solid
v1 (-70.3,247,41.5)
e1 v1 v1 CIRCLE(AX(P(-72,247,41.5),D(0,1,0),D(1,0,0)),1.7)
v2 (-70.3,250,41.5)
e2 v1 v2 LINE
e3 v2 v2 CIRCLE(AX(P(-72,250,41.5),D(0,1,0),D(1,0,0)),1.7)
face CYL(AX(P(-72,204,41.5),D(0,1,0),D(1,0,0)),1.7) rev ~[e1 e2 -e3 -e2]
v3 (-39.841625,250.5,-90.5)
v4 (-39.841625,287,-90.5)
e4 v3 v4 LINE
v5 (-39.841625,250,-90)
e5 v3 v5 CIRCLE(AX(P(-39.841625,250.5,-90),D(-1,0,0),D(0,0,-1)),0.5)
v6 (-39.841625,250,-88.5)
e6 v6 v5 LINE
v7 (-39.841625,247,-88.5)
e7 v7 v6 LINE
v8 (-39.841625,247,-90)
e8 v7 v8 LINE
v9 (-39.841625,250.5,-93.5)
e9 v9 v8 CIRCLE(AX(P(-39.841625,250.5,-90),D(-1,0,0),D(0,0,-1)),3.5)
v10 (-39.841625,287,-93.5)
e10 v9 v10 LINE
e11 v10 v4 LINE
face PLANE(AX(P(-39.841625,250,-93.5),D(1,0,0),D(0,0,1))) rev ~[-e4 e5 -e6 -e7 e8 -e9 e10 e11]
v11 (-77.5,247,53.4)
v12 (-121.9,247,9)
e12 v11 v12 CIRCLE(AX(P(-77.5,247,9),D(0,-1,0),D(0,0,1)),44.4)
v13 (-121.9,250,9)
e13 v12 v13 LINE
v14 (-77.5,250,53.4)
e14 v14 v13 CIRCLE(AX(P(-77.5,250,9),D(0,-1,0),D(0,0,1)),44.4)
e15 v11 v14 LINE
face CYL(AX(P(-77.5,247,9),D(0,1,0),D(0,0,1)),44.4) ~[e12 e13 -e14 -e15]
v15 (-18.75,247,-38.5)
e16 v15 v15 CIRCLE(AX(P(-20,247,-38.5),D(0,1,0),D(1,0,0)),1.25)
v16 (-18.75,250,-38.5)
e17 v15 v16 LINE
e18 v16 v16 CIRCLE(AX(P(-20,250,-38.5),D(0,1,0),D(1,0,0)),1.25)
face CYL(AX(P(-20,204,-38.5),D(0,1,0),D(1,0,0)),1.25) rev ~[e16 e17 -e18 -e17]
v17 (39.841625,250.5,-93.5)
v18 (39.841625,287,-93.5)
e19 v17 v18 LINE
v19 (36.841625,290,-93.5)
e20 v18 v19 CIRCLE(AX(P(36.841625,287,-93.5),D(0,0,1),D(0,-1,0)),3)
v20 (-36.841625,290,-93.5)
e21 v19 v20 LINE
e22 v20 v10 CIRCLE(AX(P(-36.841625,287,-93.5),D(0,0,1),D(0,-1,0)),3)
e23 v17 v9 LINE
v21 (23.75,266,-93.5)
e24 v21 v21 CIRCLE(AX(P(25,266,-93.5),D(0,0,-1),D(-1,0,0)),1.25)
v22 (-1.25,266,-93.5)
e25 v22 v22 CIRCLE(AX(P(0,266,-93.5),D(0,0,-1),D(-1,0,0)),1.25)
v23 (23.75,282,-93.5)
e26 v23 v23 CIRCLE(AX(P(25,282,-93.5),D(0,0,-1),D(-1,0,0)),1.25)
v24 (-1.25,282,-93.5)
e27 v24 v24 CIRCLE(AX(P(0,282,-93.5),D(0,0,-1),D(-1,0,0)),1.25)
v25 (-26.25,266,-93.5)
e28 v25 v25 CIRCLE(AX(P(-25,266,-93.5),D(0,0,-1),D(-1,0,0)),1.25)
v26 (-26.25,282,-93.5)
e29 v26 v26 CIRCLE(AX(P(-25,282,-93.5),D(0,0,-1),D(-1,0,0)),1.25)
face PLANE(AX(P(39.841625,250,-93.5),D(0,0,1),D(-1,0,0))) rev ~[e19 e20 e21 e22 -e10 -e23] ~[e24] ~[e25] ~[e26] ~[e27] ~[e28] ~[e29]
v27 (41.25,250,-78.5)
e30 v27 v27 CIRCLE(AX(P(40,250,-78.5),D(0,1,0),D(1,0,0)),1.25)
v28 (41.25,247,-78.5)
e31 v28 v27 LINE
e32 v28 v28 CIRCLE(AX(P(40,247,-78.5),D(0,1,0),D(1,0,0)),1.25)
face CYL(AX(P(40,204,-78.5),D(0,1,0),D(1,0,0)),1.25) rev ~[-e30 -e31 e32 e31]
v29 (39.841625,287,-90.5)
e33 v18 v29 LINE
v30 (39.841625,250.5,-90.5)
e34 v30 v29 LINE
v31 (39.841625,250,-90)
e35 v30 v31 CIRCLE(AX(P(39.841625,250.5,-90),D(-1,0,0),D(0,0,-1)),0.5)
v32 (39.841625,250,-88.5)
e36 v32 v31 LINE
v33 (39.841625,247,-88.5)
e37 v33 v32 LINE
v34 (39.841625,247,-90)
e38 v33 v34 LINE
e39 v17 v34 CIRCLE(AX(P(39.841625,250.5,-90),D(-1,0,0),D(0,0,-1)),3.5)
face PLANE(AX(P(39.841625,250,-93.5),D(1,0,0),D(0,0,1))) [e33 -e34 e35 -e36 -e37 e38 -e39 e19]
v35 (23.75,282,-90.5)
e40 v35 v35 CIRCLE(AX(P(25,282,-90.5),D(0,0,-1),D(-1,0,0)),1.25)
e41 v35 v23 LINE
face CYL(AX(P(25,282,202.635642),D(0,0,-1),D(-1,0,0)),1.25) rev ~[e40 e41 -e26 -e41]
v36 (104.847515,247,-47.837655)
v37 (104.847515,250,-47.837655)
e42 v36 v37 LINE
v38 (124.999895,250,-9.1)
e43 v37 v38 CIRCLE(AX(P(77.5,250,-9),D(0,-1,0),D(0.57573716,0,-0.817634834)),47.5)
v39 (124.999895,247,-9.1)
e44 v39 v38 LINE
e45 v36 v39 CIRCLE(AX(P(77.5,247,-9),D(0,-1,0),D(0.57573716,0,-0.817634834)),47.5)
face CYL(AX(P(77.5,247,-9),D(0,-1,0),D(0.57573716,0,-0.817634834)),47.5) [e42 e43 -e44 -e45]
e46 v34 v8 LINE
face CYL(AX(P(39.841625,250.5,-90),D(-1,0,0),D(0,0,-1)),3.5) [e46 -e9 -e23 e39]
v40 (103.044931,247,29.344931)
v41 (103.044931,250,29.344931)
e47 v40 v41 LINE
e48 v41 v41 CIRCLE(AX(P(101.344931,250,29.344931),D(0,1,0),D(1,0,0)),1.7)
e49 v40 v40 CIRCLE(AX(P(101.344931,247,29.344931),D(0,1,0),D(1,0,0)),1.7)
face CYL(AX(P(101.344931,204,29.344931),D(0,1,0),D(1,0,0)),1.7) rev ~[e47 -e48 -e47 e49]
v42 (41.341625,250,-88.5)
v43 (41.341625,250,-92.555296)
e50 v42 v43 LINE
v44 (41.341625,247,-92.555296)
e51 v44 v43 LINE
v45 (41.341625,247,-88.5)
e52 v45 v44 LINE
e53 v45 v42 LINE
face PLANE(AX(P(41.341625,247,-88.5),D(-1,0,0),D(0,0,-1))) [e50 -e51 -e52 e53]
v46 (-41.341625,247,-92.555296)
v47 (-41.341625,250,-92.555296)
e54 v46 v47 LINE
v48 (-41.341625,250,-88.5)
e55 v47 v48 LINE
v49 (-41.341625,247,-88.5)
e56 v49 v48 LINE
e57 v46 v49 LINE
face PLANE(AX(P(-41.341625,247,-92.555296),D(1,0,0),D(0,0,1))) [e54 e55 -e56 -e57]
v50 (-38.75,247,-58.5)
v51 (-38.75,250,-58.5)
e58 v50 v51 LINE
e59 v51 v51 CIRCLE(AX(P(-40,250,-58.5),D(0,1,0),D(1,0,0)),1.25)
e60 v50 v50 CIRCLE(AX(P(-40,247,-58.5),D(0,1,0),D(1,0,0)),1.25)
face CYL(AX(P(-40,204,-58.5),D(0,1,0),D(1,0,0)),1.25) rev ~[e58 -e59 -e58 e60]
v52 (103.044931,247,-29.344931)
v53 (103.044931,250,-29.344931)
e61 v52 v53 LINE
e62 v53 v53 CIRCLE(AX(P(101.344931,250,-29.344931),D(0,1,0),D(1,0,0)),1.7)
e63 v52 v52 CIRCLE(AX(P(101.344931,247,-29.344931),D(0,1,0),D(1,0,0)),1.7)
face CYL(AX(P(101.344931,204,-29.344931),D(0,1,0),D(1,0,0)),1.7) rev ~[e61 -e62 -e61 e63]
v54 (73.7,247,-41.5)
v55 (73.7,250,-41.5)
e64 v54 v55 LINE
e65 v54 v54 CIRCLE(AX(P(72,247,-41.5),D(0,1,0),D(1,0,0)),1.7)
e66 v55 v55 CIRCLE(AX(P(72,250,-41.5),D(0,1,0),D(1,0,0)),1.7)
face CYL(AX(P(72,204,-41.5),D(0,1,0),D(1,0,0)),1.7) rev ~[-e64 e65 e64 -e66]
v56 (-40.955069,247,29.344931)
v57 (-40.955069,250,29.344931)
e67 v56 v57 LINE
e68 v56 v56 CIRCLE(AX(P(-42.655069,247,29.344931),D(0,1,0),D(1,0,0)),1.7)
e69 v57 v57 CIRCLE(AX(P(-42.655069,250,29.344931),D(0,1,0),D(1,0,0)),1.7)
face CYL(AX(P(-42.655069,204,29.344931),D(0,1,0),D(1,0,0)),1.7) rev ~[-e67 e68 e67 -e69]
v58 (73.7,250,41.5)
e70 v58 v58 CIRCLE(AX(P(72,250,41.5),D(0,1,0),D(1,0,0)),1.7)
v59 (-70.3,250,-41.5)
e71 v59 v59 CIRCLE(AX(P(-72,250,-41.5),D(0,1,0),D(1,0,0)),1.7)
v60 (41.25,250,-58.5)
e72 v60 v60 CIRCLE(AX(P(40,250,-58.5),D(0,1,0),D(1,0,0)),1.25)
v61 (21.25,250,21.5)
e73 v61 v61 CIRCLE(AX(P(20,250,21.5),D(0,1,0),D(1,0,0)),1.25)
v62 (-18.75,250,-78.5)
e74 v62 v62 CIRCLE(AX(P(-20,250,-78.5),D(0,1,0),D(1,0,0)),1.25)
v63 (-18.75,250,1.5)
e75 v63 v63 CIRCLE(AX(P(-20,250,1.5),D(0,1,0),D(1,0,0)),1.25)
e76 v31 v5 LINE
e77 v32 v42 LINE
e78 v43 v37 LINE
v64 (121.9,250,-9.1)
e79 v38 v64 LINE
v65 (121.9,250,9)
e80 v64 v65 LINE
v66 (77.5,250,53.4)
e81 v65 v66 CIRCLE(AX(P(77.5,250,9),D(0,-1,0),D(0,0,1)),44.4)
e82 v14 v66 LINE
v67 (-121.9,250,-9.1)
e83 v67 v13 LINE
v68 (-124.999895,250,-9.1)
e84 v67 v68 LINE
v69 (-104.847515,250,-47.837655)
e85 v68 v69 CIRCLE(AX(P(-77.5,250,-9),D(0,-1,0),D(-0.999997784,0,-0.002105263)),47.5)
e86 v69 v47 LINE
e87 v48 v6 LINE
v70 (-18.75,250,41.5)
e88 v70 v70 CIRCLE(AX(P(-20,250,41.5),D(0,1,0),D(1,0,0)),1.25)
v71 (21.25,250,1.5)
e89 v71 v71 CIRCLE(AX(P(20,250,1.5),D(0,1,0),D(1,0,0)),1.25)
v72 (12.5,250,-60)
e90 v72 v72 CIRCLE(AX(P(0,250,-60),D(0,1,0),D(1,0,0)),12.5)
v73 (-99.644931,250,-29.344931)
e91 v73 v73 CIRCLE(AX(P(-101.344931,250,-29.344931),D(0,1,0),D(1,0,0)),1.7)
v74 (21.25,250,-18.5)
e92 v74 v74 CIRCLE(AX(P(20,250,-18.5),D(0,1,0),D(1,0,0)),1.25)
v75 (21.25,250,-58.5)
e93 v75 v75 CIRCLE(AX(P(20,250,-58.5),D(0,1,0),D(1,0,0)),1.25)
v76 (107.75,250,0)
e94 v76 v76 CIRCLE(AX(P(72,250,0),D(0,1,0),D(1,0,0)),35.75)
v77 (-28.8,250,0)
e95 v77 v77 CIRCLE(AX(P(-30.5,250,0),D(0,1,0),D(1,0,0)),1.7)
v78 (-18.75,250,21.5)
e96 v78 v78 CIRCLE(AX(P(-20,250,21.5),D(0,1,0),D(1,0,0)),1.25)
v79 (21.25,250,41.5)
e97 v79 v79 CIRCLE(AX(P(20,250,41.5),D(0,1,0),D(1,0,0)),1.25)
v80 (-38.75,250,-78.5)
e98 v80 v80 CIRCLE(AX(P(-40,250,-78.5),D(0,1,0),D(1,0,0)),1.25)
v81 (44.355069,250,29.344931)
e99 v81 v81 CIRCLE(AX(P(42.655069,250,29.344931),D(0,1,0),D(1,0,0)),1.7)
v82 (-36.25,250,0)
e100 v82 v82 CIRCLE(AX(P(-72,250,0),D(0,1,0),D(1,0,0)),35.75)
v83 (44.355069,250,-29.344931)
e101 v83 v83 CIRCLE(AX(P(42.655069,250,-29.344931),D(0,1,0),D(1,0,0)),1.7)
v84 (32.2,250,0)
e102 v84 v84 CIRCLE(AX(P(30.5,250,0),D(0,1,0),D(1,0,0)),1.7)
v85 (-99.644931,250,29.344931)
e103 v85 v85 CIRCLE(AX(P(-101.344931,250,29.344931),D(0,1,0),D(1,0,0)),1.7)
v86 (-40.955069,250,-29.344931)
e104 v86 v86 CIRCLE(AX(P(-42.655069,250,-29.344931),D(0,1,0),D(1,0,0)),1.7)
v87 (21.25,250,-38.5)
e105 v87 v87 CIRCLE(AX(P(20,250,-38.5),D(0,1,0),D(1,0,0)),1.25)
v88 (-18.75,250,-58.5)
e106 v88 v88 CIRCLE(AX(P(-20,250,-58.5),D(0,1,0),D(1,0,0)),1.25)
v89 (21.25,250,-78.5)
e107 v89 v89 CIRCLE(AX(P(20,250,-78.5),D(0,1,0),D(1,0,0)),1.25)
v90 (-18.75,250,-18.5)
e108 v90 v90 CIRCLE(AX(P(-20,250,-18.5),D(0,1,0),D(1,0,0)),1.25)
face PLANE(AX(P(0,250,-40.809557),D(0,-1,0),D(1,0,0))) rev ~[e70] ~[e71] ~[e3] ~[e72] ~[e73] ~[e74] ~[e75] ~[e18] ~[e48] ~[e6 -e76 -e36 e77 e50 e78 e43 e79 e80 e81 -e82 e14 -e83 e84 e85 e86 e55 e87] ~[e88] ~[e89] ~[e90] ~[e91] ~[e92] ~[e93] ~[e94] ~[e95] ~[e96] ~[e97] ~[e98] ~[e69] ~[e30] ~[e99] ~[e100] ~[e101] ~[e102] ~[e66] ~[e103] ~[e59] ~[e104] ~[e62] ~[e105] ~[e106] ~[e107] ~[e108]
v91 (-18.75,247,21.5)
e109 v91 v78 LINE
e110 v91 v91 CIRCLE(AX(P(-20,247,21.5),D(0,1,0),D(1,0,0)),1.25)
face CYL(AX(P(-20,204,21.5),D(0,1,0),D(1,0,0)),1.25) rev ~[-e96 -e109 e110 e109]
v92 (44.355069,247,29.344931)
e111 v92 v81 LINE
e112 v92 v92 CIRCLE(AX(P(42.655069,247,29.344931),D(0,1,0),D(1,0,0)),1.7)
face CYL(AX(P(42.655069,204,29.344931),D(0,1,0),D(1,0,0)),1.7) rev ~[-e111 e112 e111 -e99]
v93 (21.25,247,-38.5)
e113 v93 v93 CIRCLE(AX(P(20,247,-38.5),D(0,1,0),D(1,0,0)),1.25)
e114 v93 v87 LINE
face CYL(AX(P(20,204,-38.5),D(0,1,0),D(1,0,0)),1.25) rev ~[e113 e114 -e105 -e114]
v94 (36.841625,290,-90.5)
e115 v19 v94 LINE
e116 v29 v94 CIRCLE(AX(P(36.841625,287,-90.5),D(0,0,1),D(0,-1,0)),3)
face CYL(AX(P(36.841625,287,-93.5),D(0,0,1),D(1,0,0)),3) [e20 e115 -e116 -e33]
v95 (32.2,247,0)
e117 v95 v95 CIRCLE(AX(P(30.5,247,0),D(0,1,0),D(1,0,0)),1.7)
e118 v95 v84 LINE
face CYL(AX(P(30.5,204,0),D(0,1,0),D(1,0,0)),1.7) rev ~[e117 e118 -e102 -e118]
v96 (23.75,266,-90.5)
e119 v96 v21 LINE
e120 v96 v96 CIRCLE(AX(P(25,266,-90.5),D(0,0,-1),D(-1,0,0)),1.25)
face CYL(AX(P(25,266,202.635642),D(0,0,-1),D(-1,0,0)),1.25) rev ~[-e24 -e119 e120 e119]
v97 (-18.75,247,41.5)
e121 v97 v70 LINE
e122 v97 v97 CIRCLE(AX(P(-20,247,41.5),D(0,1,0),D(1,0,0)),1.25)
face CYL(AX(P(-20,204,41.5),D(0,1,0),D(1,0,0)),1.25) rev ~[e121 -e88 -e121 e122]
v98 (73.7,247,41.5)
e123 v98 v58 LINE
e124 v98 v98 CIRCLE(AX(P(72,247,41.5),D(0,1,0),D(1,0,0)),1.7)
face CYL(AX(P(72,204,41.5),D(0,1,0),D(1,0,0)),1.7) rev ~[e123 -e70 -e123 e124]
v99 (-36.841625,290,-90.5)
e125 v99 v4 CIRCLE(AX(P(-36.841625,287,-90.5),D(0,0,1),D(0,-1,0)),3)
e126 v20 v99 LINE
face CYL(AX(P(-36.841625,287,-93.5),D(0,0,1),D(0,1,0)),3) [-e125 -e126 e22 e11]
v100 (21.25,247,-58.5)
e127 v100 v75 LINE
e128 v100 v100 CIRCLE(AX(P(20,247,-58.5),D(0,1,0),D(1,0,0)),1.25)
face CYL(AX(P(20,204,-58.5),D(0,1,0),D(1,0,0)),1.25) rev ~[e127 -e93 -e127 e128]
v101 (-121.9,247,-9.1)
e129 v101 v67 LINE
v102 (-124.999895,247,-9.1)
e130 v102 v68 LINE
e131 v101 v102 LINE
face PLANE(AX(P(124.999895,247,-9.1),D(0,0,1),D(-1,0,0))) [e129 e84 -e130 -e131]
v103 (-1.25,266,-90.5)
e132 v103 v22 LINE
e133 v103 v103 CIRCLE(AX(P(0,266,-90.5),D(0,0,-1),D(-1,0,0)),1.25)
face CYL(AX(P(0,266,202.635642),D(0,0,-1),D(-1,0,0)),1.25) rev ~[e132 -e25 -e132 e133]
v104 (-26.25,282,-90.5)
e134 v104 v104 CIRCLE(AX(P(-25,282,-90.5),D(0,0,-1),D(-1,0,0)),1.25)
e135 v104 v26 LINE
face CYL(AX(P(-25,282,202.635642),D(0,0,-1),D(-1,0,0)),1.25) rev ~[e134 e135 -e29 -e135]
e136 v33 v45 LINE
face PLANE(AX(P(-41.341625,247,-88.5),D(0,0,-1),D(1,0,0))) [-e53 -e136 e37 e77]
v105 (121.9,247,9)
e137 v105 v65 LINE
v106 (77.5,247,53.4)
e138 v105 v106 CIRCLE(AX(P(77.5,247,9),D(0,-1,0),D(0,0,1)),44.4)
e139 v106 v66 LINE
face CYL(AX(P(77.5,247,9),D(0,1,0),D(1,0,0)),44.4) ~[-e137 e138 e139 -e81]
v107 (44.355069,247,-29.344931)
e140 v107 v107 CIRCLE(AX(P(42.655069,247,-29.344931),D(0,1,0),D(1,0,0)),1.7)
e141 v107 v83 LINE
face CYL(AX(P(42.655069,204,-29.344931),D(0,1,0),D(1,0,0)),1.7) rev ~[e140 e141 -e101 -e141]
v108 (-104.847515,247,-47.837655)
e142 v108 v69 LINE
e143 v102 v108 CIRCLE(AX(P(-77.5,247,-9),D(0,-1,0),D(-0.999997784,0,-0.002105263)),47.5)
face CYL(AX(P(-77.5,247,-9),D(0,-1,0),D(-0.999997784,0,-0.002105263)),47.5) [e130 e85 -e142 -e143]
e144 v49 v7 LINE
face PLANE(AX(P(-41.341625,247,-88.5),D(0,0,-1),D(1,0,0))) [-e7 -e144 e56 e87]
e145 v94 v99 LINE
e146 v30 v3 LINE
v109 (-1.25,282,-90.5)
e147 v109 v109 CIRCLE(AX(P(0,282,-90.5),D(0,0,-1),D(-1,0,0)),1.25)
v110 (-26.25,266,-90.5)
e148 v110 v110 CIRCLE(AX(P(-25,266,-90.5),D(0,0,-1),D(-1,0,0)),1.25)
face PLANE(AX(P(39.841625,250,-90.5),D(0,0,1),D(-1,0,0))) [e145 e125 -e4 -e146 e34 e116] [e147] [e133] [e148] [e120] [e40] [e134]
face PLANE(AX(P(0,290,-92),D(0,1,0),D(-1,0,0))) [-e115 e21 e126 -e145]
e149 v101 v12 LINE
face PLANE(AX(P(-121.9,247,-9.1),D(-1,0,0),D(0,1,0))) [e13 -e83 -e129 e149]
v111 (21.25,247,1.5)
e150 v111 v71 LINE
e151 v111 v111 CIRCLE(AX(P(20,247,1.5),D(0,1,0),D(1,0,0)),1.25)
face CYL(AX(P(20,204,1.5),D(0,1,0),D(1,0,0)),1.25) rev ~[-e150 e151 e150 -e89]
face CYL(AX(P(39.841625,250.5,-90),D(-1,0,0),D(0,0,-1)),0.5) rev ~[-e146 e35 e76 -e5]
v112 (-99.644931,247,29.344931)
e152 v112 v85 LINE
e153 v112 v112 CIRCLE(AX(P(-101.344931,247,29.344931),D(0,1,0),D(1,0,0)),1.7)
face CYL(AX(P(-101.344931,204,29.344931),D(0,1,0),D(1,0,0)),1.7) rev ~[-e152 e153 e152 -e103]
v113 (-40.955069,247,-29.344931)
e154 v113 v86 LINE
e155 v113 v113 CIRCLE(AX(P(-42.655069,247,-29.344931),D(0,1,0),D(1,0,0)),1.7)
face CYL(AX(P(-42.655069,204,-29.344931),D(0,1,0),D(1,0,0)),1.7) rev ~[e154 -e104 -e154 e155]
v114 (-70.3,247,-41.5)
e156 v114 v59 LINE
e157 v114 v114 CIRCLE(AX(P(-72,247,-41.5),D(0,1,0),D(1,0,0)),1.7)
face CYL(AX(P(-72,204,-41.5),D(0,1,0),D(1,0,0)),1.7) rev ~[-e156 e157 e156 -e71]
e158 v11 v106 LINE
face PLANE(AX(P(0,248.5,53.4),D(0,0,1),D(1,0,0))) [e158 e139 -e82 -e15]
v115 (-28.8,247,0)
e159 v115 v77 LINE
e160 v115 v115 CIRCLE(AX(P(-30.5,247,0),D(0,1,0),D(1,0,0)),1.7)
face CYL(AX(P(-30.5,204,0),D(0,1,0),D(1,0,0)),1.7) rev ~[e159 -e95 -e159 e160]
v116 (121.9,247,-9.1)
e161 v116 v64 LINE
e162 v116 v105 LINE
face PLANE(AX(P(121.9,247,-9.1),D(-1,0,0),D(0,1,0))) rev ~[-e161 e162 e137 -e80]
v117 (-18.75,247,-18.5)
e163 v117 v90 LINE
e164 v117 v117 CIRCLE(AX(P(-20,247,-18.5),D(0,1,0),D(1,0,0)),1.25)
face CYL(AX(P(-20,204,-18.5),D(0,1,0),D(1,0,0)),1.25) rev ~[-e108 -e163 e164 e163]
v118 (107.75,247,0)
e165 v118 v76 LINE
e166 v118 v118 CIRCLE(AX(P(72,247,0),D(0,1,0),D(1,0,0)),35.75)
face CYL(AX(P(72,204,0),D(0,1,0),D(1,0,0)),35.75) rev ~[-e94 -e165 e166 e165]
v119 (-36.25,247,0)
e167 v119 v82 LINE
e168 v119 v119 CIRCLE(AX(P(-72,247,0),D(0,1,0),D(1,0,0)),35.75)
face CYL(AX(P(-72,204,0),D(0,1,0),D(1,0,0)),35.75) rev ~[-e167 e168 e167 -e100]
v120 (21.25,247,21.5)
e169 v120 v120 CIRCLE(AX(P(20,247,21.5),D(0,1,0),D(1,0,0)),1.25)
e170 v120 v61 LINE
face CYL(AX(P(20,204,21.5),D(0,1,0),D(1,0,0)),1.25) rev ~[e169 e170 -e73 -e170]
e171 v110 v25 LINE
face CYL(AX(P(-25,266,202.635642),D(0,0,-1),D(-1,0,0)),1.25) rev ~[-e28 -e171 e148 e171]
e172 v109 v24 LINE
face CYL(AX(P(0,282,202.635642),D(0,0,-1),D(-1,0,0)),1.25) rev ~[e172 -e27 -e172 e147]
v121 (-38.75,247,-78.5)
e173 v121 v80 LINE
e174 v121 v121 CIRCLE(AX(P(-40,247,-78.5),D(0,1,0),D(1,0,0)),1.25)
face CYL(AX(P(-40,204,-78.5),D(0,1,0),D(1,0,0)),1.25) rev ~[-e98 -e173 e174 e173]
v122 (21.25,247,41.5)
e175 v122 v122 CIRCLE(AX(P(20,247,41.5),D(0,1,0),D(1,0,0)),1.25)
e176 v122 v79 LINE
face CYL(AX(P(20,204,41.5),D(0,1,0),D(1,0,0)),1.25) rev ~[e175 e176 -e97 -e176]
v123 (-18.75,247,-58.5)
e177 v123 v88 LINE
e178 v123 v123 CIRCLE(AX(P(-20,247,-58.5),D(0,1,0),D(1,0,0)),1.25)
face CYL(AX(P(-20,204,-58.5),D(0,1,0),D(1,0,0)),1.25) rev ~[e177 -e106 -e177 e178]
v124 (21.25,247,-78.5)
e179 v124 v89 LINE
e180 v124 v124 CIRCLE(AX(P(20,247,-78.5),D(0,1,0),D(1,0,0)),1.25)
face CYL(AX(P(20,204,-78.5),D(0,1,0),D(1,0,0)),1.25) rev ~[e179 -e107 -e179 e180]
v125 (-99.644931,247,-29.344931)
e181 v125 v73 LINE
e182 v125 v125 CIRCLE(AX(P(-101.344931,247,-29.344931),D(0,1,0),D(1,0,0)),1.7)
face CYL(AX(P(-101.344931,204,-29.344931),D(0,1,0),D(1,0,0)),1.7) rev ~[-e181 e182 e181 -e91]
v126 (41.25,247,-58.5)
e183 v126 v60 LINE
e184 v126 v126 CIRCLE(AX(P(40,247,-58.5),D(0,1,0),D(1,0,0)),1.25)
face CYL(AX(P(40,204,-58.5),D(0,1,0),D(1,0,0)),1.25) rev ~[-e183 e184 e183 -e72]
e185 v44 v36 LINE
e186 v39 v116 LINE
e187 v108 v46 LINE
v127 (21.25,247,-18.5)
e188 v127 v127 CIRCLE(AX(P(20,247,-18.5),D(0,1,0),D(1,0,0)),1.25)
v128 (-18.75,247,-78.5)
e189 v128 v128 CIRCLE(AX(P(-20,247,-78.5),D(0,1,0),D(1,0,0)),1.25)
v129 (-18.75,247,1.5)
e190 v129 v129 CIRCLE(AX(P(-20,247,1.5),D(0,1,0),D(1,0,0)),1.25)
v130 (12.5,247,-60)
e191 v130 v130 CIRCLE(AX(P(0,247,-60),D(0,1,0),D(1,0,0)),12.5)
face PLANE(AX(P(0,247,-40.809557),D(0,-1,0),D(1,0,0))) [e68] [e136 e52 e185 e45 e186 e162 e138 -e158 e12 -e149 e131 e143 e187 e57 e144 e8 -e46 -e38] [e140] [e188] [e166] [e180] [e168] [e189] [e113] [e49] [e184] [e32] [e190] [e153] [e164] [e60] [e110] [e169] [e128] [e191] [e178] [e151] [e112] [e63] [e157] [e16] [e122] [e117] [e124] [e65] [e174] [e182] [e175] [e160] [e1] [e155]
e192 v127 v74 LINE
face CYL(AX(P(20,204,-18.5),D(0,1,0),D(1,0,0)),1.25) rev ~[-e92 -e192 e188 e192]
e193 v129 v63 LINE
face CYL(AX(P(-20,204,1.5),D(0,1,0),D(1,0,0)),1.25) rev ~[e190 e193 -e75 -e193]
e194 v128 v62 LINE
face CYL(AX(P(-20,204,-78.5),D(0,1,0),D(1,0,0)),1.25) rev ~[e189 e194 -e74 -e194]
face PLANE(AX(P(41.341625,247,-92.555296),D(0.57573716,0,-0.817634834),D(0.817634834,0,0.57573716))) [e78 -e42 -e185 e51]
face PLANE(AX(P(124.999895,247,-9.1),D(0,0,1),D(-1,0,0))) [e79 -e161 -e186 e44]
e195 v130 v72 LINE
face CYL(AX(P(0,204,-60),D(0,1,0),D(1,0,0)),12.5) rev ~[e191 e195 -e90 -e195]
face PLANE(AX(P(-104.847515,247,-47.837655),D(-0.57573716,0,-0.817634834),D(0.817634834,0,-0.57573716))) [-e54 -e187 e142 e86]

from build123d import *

# Parameters (mm, degrees)
EXTRUDE_1_DEPTH             = 3
SKETCH_2_W                  = 243.8
SKETCH_2_H                  = 3
EXTRUDE_2_DEPTH             = 62.5
SKETCH_3_W                  = 79.68324927
SKETCH_3_H                  = 3
EXTRUDE_3_DEPTH             = 5
SKETCH_4_W                  = 79.68324927
SKETCH_4_H                  = 3
EXTRUDE_4_DEPTH             = 40
HOLE_WIZARD_2_5_2_5_1_D     = 2.5
HOLE_WIZARD_25_0_25_1_D     = 25
HOLE_WIZARD_25_0_25_1_DEPTH = 43
HOLE_WIZARD_M641_D          = 71.5
HOLE_WIZARD_M641_DEPTH      = 43
HOLE_WIZARD_3_4_3_4_1_D     = 3.4
HOLE_WIZARD_3_4_3_4_1_DEPTH = 43
HOLE_WIZARD_2_5_2_5_2_D     = 2.5
HOLE_WIZARD_2_5_2_5_2_DEPTH = 43
FILLET_1_R                  = 0.5
FILLET_2_R                  = 3
FILLET_3_R                  = 3.5
FILLET_4_R                  = 44.4


with BuildPart() as part:
    # Эскиз1 → Бобышка-Вытянуть1 (new body)
    with BuildSketch(Plane.XZ.offset(-247)):
        with BuildLine():
            Line((124.999894737, -9.1), (-124.999894737, -9.1))
            ThreePointArc((-124.999894737, -9.1), (-119.638879455, -30.921789121), (-104.847515108, -47.837654634))
            Line((-104.847515108, -47.837654634), (-41.341624635, -92.555295683))
            Line((-41.341624635, -92.555295683), (-41.341624635, -88.5))
            Line((-41.341624635, -88.5), (41.341624635, -88.5))
            Line((41.341624635, -88.5), (41.341624635, -92.555295631))
            Line((41.341624635, -92.555295631), (104.847515108, -47.837654582))
            ThreePointArc((104.847515108, -47.837654582), (119.638879443, -30.921789092), (124.999894737, -9.1))
        make_face()
    extrude(amount=-EXTRUDE_1_DEPTH)

    # Эскиз2 → Бобышка-Вытянуть2 (add)
    with BuildSketch(Plane.XY.offset(-9.1)):
        with Locations((2e-09, 248.5)):
            Rectangle(SKETCH_2_W, SKETCH_2_H)
    extrude(amount=EXTRUDE_2_DEPTH)

    # Эскиз3 → Бобышка-Вытянуть3 (add)
    with BuildSketch(Plane(origin=(0, 0, -88.5), x_dir=(-1, 0, 0), z_dir=(0, 0, -1))):
        with Locations((0, 248.5)):
            Rectangle(SKETCH_3_W, SKETCH_3_H)
    extrude(amount=EXTRUDE_3_DEPTH)

    # Эскиз4 → Бобышка-Вытянуть4 (add)
    with BuildSketch(Plane(origin=(0, 250, 0), x_dir=(-1, 0, 0), z_dir=(0, 1, 0))):
        with Locations((0, -92)):
            Rectangle(SKETCH_4_W, SKETCH_4_H)
    extrude(amount=EXTRUDE_4_DEPTH)

    # Диаметр отверстия Ø2.5 (2.5)1 (through all)
    with Locations(Plane.XY.offset(-90.5)):
        with Locations((25, 266), (25, 282), (0, 266), (0, 282), (-25, 266), (-25, 282)):
            Hole(HOLE_WIZARD_2_5_2_5_1_D / 2)

    # Диаметр отверстия Ø25.0 (25)1
    with Locations(Plane(origin=(0, 247, 0), x_dir=(-1, 0, 0), z_dir=(0, -1, 0))):
        with Locations((0, 60)):
            Hole(HOLE_WIZARD_25_0_25_1_D / 2, depth=HOLE_WIZARD_25_0_25_1_DEPTH)

    # Отверстие с зазором M641
    with Locations(Plane(origin=(0, 247, 0), x_dir=(-1, 0, 0), z_dir=(0, -1, 0))):
        with Locations((72, 0), (-72, 0)):
            Hole(HOLE_WIZARD_M641_D / 2, depth=HOLE_WIZARD_M641_DEPTH)

    # Диаметр отверстия Ø3.4 (3.4)1
    with Locations(Plane(origin=(0, 247, 0), x_dir=(-1, 0, 0), z_dir=(0, -1, 0))):
        with Locations((72, 41.5), (42.655068581, 29.344931419), (30.5, 0), (42.655068581, -29.344931419), (72, -41.5), (101.344931419, -29.344931419), (101.344931419, 29.344931419), (-101.344931419, 29.344931419), (-101.344931419, -29.344931419), (-72, -41.5), (-42.655068581, -29.344931419), (-30.5, 0), (-42.655068581, 29.344931419), (-72, 41.5)):
            Hole(HOLE_WIZARD_3_4_3_4_1_D / 2, depth=HOLE_WIZARD_3_4_3_4_1_DEPTH)

    # Диаметр отверстия Ø2.5 (2.5)2
    with Locations(Plane(origin=(0, 247, 0), x_dir=(-1, 0, 0), z_dir=(0, -1, 0))):
        with Locations((-20, 58.5), (20, 18.5), (-20, 18.5), (-20, -1.5), (20, -21.5), (20, -41.5), (-20, -41.5), (-20, -21.5), (20, -1.5), (-20, 38.5), (20, 38.5), (-40, 58.5), (-40, 78.5), (-20, 78.5), (20, 58.5), (20, 78.5), (40, 58.5), (40, 78.5)):
            Hole(HOLE_WIZARD_2_5_2_5_2_D / 2, depth=HOLE_WIZARD_2_5_2_5_2_DEPTH)

    # Скругление1
    fillet_1_edges = [part.edges().sort_by_distance(p)[0] for p in [
        (0, 250, -90.5),
    ]]
    fillet(fillet_1_edges, radius=FILLET_1_R)

    # Скругление2
    fillet_2_edges = [part.edges().sort_by_distance(p)[0] for p in [
        (-39.841624635, 290, -92),
        (39.841624635, 290, -92),
    ]]
    fillet(fillet_2_edges, radius=FILLET_2_R)

    # Скругление3
    fillet_3_edges = [part.edges().sort_by_distance(p)[0] for p in [
        (0, 247, -93.5),
    ]]
    fillet(fillet_3_edges, radius=FILLET_3_R)

    # Скругление4
    fillet_4_edges = [part.edges().sort_by_distance(p)[0] for p in [
        (121.900000002, 248.5, 53.4),
        (-121.899999998, 248.5, 53.4),
    ]]
    fillet(fillet_4_edges, radius=FILLET_4_R)


solid = part.part
